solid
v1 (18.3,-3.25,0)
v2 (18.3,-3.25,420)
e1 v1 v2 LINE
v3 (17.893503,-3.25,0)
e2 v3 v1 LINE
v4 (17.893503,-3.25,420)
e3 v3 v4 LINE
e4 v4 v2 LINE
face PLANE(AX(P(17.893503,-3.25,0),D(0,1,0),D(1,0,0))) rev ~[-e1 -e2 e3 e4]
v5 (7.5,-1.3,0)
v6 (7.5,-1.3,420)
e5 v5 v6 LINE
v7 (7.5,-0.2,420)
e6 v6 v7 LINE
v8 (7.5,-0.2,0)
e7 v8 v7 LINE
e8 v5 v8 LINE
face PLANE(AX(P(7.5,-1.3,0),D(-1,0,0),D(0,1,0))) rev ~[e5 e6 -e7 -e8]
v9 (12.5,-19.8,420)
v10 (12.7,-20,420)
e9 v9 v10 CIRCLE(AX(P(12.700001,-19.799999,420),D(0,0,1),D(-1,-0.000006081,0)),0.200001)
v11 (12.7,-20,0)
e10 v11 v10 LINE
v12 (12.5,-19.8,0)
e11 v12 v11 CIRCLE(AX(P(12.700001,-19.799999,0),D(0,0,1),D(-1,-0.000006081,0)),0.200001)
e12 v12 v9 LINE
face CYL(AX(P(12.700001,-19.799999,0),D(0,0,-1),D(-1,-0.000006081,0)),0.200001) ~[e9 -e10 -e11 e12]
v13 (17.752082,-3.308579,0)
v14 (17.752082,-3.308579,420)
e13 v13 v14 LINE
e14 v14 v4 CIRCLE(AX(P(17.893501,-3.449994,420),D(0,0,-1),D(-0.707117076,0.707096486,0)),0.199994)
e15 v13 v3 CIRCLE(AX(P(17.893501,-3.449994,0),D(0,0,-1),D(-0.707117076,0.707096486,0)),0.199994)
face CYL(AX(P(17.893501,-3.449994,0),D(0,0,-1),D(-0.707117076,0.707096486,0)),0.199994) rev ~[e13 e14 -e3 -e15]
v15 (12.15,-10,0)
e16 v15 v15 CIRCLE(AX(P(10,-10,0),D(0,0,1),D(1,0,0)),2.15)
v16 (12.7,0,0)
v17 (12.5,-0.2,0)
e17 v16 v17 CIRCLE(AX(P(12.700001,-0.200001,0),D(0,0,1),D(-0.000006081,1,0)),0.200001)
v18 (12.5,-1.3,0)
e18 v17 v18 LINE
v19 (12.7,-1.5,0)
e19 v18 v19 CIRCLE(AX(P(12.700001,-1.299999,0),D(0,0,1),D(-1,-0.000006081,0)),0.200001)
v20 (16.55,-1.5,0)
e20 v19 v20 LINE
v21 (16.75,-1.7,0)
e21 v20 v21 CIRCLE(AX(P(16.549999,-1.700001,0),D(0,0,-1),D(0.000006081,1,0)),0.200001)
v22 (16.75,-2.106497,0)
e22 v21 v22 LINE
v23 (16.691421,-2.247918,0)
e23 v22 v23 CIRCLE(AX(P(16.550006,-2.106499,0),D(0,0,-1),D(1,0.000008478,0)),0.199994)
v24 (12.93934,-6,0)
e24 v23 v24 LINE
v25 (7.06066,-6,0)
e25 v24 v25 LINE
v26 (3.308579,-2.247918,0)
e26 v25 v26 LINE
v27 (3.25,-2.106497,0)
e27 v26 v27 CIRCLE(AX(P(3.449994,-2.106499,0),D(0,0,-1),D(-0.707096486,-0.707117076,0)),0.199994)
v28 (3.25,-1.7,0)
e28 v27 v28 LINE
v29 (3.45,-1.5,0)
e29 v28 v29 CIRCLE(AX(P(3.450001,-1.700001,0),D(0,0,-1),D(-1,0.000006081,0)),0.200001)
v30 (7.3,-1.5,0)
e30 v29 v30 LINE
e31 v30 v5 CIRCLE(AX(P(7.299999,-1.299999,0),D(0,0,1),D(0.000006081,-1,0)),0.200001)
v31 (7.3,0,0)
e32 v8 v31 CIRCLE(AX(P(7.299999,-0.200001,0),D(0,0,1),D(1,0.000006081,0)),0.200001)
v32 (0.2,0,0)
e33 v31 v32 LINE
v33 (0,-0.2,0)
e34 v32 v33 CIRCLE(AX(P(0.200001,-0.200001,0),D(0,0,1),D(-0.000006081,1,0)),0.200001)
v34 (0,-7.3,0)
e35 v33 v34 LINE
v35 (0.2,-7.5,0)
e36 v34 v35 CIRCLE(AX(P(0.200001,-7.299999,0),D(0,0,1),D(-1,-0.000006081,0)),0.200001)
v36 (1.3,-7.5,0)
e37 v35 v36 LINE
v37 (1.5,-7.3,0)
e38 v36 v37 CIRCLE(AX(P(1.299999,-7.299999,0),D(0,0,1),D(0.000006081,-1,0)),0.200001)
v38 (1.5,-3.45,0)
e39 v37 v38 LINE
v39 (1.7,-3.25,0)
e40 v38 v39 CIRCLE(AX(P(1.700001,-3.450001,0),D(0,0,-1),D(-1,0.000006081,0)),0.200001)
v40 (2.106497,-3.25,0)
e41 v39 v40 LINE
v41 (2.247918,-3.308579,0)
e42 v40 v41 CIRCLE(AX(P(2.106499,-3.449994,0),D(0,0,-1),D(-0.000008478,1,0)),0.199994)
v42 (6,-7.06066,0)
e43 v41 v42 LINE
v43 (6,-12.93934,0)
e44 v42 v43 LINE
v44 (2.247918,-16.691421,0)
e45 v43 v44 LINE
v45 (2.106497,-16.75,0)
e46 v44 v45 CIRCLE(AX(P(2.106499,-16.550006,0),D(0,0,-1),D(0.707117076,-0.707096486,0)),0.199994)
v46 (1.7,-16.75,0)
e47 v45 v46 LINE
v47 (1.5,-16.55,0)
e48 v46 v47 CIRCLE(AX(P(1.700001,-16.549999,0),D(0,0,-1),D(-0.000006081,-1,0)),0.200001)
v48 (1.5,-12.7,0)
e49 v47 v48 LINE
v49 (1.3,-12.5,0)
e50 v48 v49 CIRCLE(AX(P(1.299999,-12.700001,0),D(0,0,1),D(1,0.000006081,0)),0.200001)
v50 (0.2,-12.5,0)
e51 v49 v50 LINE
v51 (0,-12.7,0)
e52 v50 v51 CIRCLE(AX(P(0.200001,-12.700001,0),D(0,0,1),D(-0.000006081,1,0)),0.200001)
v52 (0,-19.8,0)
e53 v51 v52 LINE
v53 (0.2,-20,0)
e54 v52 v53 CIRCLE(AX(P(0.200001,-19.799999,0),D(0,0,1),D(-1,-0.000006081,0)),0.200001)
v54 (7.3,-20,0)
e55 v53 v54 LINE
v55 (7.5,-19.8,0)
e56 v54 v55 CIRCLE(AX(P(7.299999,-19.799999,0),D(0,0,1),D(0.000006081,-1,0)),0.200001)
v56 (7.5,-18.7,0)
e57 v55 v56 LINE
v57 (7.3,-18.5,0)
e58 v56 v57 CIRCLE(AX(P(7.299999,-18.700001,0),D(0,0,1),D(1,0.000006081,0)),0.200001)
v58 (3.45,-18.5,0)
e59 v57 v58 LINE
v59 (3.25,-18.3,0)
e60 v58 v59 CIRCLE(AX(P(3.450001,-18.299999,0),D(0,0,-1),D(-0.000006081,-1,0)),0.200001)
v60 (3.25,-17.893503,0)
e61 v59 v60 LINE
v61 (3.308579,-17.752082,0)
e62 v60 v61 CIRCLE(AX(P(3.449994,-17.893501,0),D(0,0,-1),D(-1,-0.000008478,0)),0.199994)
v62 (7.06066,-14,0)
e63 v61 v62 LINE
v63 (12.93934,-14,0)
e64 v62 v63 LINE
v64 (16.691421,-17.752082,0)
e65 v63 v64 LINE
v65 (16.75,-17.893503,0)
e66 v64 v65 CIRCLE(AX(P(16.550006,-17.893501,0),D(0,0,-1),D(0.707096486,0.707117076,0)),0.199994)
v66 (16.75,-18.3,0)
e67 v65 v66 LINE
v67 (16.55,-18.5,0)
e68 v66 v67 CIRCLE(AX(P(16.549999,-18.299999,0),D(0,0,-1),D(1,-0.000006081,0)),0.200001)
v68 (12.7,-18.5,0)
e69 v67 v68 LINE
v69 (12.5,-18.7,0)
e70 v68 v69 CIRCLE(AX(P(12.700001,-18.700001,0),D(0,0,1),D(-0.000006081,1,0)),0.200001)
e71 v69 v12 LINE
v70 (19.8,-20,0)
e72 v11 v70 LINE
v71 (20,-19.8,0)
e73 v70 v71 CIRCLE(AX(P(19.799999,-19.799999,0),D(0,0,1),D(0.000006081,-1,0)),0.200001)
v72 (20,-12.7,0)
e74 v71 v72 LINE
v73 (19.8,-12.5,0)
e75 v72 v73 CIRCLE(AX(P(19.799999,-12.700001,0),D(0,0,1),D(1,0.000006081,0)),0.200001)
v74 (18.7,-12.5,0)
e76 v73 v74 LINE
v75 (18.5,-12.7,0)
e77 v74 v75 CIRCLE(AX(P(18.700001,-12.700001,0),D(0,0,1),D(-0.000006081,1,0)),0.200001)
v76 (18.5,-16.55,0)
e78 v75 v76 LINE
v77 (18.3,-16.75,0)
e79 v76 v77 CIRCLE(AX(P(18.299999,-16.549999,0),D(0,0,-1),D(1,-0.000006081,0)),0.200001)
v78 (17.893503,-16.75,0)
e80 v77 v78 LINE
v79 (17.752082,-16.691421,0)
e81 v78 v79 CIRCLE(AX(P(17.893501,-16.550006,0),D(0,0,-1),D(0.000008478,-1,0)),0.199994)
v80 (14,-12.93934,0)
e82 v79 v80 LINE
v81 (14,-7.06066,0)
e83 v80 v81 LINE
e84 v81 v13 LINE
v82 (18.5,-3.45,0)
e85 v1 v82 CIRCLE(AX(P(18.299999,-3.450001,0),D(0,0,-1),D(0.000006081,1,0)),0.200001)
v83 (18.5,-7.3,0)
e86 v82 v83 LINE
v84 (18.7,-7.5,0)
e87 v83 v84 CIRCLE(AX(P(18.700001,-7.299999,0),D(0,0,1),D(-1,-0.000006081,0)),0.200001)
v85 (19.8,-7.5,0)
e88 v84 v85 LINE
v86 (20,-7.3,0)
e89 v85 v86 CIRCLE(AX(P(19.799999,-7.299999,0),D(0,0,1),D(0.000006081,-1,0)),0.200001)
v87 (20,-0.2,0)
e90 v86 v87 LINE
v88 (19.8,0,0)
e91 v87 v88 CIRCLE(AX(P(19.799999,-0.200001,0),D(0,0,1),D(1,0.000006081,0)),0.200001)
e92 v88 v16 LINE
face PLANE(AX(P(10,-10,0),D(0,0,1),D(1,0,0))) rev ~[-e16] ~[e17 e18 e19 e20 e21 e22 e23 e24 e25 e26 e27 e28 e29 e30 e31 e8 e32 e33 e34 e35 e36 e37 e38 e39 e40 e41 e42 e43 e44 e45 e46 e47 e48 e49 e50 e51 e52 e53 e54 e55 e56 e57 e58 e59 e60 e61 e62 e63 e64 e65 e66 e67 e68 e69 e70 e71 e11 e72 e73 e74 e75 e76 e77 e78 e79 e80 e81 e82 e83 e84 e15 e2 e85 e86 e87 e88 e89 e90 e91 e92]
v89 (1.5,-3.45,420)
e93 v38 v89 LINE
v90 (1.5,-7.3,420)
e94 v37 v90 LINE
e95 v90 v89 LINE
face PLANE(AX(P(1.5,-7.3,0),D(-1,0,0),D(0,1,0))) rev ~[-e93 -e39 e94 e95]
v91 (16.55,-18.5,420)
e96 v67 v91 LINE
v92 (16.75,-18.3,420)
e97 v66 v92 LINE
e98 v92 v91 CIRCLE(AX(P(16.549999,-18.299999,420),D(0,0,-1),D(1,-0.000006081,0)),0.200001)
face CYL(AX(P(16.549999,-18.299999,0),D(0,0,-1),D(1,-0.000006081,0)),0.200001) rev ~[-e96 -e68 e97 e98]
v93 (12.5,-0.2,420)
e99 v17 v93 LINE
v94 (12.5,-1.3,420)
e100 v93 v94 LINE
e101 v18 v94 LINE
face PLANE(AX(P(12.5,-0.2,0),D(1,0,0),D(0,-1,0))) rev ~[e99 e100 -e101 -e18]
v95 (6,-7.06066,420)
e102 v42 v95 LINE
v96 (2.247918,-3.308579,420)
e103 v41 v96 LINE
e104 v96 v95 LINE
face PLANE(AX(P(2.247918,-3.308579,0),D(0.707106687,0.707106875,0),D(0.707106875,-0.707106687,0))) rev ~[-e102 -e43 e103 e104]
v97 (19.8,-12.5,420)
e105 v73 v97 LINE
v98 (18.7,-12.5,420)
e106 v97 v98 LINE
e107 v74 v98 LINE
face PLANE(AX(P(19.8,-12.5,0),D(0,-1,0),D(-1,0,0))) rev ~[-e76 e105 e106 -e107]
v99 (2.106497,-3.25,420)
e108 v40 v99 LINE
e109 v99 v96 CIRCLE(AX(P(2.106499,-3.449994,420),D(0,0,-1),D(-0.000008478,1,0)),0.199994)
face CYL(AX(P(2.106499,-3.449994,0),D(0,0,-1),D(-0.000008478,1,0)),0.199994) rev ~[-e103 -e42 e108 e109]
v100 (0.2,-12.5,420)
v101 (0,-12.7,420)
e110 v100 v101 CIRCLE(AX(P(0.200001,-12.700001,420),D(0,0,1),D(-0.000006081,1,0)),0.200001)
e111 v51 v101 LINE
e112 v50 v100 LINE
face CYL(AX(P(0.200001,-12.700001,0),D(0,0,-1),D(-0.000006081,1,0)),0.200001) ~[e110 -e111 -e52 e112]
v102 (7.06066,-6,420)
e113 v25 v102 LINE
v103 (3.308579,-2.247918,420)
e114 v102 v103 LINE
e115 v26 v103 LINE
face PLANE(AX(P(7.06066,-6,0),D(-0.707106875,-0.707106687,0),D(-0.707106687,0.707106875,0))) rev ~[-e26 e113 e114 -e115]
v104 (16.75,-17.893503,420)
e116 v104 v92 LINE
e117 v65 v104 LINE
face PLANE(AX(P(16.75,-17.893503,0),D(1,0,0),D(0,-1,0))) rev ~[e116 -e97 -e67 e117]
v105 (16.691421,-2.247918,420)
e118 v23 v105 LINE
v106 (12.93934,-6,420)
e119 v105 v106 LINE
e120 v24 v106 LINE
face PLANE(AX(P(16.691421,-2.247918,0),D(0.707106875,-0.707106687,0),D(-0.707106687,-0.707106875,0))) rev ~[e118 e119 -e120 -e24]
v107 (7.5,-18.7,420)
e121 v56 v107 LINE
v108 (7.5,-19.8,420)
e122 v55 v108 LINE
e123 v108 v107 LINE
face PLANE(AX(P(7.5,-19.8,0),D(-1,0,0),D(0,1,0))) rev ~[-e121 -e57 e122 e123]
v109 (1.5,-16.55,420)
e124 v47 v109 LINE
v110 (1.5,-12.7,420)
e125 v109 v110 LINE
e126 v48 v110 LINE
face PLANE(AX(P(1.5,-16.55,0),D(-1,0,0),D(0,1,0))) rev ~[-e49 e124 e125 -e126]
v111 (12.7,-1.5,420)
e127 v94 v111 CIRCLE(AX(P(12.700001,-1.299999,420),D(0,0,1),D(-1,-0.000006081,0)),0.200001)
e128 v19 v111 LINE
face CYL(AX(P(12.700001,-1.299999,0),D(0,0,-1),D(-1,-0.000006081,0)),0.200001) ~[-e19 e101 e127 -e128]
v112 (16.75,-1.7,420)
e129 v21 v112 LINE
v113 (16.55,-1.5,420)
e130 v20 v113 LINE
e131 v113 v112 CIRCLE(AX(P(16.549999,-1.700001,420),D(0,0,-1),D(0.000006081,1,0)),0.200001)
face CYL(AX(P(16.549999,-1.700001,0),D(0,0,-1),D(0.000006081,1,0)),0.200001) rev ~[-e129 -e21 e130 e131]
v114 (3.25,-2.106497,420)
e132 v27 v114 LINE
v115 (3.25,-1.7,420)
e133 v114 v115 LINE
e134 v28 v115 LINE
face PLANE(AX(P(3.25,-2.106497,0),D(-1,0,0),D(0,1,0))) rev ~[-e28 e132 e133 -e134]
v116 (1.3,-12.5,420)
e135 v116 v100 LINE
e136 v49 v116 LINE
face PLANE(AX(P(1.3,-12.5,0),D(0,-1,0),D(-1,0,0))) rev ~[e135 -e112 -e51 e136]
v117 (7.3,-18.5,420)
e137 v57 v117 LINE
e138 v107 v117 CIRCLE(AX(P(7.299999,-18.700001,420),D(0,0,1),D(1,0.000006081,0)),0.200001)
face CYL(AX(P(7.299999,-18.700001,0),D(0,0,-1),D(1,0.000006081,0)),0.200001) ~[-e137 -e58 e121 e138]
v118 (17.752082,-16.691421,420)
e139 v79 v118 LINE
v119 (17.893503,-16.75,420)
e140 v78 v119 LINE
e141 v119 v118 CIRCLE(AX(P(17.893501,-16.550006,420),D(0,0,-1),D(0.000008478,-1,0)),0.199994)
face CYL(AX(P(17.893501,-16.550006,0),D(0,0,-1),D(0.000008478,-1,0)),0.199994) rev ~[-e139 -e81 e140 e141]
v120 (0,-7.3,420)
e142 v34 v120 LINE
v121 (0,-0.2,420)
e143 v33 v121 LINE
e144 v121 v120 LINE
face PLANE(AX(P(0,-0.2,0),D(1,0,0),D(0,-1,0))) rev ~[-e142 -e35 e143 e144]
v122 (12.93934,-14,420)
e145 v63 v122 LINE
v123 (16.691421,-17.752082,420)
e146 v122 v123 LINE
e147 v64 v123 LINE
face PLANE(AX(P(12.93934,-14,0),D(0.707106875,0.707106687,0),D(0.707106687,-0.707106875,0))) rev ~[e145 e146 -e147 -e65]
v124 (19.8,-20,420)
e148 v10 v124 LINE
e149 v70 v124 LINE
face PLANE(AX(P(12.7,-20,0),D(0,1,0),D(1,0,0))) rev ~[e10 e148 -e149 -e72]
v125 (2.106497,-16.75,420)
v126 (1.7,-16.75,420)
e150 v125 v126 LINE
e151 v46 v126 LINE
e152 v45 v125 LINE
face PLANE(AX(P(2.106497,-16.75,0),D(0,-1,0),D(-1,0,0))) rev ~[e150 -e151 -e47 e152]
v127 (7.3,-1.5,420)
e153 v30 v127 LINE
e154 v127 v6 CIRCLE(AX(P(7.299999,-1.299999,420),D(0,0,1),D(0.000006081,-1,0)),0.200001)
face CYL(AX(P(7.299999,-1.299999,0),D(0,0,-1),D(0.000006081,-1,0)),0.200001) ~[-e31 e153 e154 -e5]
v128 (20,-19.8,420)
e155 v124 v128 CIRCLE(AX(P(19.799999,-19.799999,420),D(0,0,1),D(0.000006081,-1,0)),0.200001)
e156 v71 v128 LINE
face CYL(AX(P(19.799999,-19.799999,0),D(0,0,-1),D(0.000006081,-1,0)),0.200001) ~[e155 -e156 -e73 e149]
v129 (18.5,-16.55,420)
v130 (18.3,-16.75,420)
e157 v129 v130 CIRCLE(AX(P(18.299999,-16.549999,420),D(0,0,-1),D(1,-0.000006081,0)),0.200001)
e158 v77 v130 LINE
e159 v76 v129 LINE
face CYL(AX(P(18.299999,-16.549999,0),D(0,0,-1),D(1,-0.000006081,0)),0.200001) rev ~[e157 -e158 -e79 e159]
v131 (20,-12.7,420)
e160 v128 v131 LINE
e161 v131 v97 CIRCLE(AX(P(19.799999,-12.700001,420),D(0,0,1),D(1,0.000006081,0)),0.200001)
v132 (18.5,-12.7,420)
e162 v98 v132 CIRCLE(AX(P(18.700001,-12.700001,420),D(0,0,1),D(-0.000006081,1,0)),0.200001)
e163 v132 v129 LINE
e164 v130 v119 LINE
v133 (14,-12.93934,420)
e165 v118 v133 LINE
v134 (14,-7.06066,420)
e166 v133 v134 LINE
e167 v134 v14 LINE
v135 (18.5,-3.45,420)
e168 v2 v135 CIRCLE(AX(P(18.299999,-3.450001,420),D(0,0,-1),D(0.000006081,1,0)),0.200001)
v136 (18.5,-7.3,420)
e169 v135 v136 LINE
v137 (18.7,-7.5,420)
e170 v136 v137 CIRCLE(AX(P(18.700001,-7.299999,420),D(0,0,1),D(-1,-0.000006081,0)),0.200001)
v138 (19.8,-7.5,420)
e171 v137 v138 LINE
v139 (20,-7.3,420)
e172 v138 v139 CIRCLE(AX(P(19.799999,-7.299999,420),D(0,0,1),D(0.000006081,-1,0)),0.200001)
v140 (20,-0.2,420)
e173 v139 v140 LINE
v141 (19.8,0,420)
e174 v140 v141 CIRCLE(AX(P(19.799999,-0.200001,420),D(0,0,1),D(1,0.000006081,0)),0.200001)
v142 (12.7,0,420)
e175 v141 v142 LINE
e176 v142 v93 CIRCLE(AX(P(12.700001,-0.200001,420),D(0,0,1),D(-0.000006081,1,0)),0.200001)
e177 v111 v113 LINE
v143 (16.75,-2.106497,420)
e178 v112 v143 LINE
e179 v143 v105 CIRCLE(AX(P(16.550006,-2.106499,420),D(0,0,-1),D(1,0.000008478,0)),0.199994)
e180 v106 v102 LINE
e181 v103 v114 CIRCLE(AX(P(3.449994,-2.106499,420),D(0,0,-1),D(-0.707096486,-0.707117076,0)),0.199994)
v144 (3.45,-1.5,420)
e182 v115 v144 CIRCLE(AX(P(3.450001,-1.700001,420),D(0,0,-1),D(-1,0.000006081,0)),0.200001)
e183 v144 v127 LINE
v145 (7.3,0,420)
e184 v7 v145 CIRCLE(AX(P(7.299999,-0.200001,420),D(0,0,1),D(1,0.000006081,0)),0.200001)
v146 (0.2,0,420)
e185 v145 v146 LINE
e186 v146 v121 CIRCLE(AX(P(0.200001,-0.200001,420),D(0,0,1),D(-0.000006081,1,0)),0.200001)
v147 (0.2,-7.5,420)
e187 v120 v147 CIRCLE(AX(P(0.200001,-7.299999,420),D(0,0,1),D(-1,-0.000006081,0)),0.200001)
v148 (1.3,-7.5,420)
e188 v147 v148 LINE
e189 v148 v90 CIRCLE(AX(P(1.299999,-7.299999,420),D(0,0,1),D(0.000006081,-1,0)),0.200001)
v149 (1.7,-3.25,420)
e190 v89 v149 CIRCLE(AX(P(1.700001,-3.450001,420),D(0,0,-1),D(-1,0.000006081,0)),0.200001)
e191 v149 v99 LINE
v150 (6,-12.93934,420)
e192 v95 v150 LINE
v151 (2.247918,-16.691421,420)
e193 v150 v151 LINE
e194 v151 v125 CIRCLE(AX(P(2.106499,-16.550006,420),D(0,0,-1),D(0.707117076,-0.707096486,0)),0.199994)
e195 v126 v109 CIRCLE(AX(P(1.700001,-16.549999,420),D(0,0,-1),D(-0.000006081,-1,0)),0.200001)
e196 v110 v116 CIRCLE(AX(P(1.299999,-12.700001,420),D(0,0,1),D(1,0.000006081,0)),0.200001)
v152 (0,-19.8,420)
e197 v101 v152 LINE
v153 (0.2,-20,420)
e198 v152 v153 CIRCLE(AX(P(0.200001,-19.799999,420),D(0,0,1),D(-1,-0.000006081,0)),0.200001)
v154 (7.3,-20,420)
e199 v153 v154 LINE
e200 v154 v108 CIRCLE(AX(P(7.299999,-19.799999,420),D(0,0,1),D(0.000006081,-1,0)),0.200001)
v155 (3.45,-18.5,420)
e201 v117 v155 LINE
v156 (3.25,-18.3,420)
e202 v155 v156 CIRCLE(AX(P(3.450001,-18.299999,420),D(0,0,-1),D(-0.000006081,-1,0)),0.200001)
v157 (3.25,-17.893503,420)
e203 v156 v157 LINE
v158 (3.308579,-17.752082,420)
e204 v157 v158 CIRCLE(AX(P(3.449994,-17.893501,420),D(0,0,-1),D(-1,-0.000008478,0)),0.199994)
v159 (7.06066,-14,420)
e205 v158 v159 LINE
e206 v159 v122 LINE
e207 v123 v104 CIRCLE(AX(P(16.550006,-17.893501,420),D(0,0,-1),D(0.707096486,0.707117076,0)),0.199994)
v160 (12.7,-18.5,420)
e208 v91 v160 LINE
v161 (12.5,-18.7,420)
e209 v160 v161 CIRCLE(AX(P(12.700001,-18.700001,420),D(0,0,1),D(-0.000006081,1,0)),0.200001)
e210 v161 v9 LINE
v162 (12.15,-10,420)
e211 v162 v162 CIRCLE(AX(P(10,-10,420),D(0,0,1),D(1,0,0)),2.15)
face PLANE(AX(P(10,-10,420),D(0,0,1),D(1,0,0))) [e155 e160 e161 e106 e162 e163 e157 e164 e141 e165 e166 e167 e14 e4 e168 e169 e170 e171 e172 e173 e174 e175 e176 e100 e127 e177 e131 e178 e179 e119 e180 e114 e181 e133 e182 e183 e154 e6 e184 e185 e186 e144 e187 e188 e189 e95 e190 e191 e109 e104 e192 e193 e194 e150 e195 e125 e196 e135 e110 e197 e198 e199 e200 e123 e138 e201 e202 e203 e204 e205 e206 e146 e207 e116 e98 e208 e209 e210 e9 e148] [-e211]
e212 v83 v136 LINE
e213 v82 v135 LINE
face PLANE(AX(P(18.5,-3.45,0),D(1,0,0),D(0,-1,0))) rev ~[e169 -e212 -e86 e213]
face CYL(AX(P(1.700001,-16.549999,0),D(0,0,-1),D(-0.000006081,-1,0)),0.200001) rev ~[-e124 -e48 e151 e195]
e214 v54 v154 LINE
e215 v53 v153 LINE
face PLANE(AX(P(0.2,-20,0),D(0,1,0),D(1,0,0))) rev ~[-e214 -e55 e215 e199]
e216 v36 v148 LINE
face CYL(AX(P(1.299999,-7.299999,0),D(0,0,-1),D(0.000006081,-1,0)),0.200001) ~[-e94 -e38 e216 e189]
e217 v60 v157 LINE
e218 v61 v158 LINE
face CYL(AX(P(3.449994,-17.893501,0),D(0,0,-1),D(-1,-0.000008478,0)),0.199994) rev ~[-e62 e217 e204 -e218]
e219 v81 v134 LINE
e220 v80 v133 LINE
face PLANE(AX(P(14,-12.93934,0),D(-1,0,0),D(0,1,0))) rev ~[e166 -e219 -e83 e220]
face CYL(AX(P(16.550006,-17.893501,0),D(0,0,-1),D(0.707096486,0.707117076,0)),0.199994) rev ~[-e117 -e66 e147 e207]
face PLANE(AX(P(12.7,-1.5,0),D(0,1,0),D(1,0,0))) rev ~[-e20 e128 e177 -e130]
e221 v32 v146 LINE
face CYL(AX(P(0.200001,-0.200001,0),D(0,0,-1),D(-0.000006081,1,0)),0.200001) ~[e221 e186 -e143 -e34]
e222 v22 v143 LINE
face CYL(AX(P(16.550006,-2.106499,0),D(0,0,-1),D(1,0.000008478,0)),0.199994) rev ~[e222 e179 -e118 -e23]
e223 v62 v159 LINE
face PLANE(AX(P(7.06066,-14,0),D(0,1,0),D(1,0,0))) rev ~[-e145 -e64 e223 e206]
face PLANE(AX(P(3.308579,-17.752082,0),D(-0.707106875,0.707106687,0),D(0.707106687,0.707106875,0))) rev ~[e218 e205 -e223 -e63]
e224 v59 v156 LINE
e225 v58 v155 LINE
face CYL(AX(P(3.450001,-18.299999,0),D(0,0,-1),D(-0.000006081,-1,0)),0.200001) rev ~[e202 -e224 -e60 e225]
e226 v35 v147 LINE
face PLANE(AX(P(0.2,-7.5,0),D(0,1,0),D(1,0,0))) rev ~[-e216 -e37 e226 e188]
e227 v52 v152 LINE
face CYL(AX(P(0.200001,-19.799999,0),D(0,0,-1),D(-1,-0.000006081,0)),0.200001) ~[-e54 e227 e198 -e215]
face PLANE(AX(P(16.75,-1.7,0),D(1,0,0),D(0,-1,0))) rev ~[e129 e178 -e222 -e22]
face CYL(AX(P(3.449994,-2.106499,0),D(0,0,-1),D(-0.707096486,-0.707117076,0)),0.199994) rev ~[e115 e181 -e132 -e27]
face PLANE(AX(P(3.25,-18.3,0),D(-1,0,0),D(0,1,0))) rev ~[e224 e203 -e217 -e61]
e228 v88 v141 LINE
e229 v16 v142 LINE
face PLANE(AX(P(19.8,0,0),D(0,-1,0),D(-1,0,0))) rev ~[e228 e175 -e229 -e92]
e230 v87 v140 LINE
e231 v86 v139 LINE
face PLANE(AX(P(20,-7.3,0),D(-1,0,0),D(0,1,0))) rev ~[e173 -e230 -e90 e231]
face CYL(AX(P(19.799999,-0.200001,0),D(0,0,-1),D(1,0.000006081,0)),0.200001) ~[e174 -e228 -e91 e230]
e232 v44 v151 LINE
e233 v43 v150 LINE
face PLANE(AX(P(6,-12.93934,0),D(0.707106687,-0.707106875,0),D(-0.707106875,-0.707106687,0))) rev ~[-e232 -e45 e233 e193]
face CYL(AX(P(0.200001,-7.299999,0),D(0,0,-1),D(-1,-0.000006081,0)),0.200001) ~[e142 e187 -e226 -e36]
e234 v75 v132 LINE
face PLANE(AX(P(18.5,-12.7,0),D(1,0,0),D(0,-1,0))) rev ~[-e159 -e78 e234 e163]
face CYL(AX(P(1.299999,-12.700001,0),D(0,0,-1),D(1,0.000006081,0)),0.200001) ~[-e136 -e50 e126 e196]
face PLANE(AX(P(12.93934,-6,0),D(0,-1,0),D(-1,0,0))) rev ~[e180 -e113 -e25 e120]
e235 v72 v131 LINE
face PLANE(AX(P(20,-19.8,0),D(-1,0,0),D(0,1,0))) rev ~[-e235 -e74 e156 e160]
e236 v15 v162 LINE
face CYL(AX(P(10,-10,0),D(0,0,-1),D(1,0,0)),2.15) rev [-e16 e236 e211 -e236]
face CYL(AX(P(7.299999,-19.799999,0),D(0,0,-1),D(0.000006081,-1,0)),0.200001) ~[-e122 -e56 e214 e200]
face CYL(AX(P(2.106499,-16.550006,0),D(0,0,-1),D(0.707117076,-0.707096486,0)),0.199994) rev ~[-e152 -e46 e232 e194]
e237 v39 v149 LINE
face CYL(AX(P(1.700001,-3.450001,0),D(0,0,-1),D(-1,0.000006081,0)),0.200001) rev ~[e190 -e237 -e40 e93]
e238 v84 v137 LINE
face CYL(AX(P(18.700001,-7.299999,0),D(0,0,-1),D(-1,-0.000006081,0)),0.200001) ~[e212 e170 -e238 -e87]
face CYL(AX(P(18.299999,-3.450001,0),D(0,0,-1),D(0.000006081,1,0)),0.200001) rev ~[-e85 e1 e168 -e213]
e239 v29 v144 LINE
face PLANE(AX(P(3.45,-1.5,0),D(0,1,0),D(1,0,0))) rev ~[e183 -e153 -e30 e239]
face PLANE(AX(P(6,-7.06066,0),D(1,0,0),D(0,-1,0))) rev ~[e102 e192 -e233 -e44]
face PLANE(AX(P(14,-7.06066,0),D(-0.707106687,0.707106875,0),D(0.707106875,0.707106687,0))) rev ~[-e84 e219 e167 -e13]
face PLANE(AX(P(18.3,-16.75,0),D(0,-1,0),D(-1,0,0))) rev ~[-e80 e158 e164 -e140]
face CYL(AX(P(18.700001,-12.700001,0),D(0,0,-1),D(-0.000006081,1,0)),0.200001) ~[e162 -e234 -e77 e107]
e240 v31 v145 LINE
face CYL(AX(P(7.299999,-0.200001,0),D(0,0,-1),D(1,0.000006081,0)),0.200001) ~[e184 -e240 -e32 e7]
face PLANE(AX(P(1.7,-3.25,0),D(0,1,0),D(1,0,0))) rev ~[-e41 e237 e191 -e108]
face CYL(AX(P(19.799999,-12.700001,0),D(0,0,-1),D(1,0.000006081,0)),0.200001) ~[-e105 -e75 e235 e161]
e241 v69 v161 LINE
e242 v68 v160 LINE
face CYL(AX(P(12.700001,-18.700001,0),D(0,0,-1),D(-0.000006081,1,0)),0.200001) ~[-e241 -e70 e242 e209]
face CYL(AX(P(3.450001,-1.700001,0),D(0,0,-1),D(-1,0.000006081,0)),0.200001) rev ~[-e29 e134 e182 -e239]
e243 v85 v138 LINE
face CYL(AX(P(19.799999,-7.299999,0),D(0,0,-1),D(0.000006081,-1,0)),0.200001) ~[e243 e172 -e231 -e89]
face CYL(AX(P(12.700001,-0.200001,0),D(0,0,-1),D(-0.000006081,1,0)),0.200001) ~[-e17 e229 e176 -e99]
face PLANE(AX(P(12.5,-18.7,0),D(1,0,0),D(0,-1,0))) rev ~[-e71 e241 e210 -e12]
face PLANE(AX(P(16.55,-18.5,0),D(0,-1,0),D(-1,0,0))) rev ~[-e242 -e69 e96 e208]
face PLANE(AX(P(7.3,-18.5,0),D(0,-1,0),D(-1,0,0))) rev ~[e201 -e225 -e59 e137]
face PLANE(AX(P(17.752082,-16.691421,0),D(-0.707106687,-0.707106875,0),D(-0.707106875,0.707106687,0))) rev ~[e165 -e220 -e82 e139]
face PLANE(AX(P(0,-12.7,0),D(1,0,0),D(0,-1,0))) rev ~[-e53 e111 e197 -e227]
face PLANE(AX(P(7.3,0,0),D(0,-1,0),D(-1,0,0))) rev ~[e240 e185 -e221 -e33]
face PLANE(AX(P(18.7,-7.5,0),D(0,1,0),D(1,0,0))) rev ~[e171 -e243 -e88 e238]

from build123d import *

# Parameters (mm, degrees)
F0_R     = 2.15
F1_DEPTH = 420


with BuildPart() as f1:
    # F0 (on Top) → F1 (new body)
    with BuildSketch(Plane.XY):
        with BuildLine():
            ThreePointArc((20, -0.2), (19.941421, -0.058579), (19.8, 0))
            Line((19.8, 0), (12.7, 0))
            ThreePointArc((12.7, 0), (12.558579, -0.058579), (12.5, -0.2))
            Line((12.5, -0.2), (12.5, -1.3))
            ThreePointArc((12.5, -1.3), (12.558579, -1.441421), (12.7, -1.5))
            Line((12.7, -1.5), (16.55, -1.5))
            ThreePointArc((16.55, -1.5), (16.691421, -1.558579), (16.75, -1.7))
            Line((16.75, -1.7), (16.75, -2.106497))
            ThreePointArc((16.75, -2.106497), (16.734776, -2.183034), (16.691421, -2.247918))
            Line((16.691421, -2.247918), (12.93934, -6))
            Line((12.93934, -6), (7.06066, -6))
            Line((7.06066, -6), (3.308579, -2.247918))
            ThreePointArc((3.308579, -2.247918), (3.265224, -2.183034), (3.25, -2.106497))
            Line((3.25, -2.106497), (3.25, -1.7))
            ThreePointArc((3.25, -1.7), (3.308579, -1.558579), (3.45, -1.5))
            Line((3.45, -1.5), (7.3, -1.5))
            ThreePointArc((7.3, -1.5), (7.441421, -1.441421), (7.5, -1.3))
            Line((7.5, -1.3), (7.5, -0.2))
            ThreePointArc((7.5, -0.2), (7.441421, -0.058579), (7.3, 0))
            Line((7.3, 0), (0.2, 0))
            ThreePointArc((0.2, 0), (0.058579, -0.058579), (0, -0.2))
            Line((0, -0.2), (0, -7.3))
            ThreePointArc((0, -7.3), (0.058579, -7.441421), (0.2, -7.5))
            Line((0.2, -7.5), (1.3, -7.5))
            ThreePointArc((1.3, -7.5), (1.441421, -7.441421), (1.5, -7.3))
            Line((1.5, -7.3), (1.5, -3.45))
            ThreePointArc((1.5, -3.45), (1.558579, -3.308579), (1.7, -3.25))
            Line((1.7, -3.25), (2.106497, -3.25))
            ThreePointArc((2.106497, -3.25), (2.183034, -3.265224), (2.247918, -3.308579))
            Line((2.247918, -3.308579), (6, -7.06066))
            Line((6, -7.06066), (6, -12.93934))
            Line((6, -12.93934), (2.247918, -16.691421))
            ThreePointArc((2.247918, -16.691421), (2.183034, -16.734776), (2.106497, -16.75))
            Line((2.106497, -16.75), (1.7, -16.75))
            ThreePointArc((1.7, -16.75), (1.558579, -16.691421), (1.5, -16.55))
            Line((1.5, -16.55), (1.5, -12.7))
            ThreePointArc((1.5, -12.7), (1.441421, -12.558579), (1.3, -12.5))
            Line((1.3, -12.5), (0.2, -12.5))
            ThreePointArc((0.2, -12.5), (0.058579, -12.558579), (0, -12.7))
            Line((0, -12.7), (0, -19.8))
            ThreePointArc((0, -19.8), (0.058579, -19.941421), (0.2, -20))
            Line((0.2, -20), (7.3, -20))
            ThreePointArc((7.3, -20), (7.441421, -19.941421), (7.5, -19.8))
            Line((7.5, -19.8), (7.5, -18.7))
            ThreePointArc((7.5, -18.7), (7.441421, -18.558579), (7.3, -18.5))
            Line((7.3, -18.5), (3.45, -18.5))
            ThreePointArc((3.45, -18.5), (3.308579, -18.441421), (3.25, -18.3))
            Line((3.25, -18.3), (3.25, -17.893503))
            ThreePointArc((3.25, -17.893503), (3.265224, -17.816966), (3.308579, -17.752082))
            Line((3.308579, -17.752082), (7.06066, -14))
            Line((7.06066, -14), (12.93934, -14))
            Line((12.93934, -14), (16.691421, -17.752082))
            ThreePointArc((16.691421, -17.752082), (16.734776, -17.816966), (16.75, -17.893503))
            Line((16.75, -17.893503), (16.75, -18.3))
            ThreePointArc((16.75, -18.3), (16.691421, -18.441421), (16.55, -18.5))
            Line((16.55, -18.5), (12.7, -18.5))
            ThreePointArc((12.7, -18.5), (12.558579, -18.558579), (12.5, -18.7))
            Line((12.5, -18.7), (12.5, -19.8))
            ThreePointArc((12.5, -19.8), (12.558579, -19.941421), (12.7, -20))
            Line((12.7, -20), (19.8, -20))
            ThreePointArc((19.8, -20), (19.941421, -19.941421), (20, -19.8))
            Line((20, -19.8), (20, -12.7))
            ThreePointArc((20, -12.7), (19.941421, -12.558579), (19.8, -12.5))
            Line((19.8, -12.5), (18.7, -12.5))
            ThreePointArc((18.7, -12.5), (18.558579, -12.558579), (18.5, -12.7))
            Line((18.5, -12.7), (18.5, -16.55))
            ThreePointArc((18.5, -16.55), (18.441421, -16.691421), (18.3, -16.75))
            Line((18.3, -16.75), (17.893503, -16.75))
            ThreePointArc((17.893503, -16.75), (17.816966, -16.734776), (17.752082, -16.691421))
            Line((17.752082, -16.691421), (14, -12.93934))
            Line((14, -12.93934), (14, -7.06066))
            Line((14, -7.06066), (17.752082, -3.308579))
            ThreePointArc((17.752082, -3.308579), (17.816966, -3.265224), (17.893503, -3.25))
            Line((17.893503, -3.25), (18.3, -3.25))
            ThreePointArc((18.3, -3.25), (18.441421, -3.308579), (18.5, -3.45))
            Line((18.5, -3.45), (18.5, -7.3))
            ThreePointArc((18.5, -7.3), (18.558579, -7.441421), (18.7, -7.5))
            Line((18.7, -7.5), (19.8, -7.5))
            ThreePointArc((19.8, -7.5), (19.941421, -7.441421), (20, -7.3))
            Line((20, -7.3), (20, -0.2))
        make_face()
        with Locations((10, -10)):
            Circle(F0_R, mode=Mode.SUBTRACT)
    extrude(amount=F1_DEPTH)


solid = f1.part
